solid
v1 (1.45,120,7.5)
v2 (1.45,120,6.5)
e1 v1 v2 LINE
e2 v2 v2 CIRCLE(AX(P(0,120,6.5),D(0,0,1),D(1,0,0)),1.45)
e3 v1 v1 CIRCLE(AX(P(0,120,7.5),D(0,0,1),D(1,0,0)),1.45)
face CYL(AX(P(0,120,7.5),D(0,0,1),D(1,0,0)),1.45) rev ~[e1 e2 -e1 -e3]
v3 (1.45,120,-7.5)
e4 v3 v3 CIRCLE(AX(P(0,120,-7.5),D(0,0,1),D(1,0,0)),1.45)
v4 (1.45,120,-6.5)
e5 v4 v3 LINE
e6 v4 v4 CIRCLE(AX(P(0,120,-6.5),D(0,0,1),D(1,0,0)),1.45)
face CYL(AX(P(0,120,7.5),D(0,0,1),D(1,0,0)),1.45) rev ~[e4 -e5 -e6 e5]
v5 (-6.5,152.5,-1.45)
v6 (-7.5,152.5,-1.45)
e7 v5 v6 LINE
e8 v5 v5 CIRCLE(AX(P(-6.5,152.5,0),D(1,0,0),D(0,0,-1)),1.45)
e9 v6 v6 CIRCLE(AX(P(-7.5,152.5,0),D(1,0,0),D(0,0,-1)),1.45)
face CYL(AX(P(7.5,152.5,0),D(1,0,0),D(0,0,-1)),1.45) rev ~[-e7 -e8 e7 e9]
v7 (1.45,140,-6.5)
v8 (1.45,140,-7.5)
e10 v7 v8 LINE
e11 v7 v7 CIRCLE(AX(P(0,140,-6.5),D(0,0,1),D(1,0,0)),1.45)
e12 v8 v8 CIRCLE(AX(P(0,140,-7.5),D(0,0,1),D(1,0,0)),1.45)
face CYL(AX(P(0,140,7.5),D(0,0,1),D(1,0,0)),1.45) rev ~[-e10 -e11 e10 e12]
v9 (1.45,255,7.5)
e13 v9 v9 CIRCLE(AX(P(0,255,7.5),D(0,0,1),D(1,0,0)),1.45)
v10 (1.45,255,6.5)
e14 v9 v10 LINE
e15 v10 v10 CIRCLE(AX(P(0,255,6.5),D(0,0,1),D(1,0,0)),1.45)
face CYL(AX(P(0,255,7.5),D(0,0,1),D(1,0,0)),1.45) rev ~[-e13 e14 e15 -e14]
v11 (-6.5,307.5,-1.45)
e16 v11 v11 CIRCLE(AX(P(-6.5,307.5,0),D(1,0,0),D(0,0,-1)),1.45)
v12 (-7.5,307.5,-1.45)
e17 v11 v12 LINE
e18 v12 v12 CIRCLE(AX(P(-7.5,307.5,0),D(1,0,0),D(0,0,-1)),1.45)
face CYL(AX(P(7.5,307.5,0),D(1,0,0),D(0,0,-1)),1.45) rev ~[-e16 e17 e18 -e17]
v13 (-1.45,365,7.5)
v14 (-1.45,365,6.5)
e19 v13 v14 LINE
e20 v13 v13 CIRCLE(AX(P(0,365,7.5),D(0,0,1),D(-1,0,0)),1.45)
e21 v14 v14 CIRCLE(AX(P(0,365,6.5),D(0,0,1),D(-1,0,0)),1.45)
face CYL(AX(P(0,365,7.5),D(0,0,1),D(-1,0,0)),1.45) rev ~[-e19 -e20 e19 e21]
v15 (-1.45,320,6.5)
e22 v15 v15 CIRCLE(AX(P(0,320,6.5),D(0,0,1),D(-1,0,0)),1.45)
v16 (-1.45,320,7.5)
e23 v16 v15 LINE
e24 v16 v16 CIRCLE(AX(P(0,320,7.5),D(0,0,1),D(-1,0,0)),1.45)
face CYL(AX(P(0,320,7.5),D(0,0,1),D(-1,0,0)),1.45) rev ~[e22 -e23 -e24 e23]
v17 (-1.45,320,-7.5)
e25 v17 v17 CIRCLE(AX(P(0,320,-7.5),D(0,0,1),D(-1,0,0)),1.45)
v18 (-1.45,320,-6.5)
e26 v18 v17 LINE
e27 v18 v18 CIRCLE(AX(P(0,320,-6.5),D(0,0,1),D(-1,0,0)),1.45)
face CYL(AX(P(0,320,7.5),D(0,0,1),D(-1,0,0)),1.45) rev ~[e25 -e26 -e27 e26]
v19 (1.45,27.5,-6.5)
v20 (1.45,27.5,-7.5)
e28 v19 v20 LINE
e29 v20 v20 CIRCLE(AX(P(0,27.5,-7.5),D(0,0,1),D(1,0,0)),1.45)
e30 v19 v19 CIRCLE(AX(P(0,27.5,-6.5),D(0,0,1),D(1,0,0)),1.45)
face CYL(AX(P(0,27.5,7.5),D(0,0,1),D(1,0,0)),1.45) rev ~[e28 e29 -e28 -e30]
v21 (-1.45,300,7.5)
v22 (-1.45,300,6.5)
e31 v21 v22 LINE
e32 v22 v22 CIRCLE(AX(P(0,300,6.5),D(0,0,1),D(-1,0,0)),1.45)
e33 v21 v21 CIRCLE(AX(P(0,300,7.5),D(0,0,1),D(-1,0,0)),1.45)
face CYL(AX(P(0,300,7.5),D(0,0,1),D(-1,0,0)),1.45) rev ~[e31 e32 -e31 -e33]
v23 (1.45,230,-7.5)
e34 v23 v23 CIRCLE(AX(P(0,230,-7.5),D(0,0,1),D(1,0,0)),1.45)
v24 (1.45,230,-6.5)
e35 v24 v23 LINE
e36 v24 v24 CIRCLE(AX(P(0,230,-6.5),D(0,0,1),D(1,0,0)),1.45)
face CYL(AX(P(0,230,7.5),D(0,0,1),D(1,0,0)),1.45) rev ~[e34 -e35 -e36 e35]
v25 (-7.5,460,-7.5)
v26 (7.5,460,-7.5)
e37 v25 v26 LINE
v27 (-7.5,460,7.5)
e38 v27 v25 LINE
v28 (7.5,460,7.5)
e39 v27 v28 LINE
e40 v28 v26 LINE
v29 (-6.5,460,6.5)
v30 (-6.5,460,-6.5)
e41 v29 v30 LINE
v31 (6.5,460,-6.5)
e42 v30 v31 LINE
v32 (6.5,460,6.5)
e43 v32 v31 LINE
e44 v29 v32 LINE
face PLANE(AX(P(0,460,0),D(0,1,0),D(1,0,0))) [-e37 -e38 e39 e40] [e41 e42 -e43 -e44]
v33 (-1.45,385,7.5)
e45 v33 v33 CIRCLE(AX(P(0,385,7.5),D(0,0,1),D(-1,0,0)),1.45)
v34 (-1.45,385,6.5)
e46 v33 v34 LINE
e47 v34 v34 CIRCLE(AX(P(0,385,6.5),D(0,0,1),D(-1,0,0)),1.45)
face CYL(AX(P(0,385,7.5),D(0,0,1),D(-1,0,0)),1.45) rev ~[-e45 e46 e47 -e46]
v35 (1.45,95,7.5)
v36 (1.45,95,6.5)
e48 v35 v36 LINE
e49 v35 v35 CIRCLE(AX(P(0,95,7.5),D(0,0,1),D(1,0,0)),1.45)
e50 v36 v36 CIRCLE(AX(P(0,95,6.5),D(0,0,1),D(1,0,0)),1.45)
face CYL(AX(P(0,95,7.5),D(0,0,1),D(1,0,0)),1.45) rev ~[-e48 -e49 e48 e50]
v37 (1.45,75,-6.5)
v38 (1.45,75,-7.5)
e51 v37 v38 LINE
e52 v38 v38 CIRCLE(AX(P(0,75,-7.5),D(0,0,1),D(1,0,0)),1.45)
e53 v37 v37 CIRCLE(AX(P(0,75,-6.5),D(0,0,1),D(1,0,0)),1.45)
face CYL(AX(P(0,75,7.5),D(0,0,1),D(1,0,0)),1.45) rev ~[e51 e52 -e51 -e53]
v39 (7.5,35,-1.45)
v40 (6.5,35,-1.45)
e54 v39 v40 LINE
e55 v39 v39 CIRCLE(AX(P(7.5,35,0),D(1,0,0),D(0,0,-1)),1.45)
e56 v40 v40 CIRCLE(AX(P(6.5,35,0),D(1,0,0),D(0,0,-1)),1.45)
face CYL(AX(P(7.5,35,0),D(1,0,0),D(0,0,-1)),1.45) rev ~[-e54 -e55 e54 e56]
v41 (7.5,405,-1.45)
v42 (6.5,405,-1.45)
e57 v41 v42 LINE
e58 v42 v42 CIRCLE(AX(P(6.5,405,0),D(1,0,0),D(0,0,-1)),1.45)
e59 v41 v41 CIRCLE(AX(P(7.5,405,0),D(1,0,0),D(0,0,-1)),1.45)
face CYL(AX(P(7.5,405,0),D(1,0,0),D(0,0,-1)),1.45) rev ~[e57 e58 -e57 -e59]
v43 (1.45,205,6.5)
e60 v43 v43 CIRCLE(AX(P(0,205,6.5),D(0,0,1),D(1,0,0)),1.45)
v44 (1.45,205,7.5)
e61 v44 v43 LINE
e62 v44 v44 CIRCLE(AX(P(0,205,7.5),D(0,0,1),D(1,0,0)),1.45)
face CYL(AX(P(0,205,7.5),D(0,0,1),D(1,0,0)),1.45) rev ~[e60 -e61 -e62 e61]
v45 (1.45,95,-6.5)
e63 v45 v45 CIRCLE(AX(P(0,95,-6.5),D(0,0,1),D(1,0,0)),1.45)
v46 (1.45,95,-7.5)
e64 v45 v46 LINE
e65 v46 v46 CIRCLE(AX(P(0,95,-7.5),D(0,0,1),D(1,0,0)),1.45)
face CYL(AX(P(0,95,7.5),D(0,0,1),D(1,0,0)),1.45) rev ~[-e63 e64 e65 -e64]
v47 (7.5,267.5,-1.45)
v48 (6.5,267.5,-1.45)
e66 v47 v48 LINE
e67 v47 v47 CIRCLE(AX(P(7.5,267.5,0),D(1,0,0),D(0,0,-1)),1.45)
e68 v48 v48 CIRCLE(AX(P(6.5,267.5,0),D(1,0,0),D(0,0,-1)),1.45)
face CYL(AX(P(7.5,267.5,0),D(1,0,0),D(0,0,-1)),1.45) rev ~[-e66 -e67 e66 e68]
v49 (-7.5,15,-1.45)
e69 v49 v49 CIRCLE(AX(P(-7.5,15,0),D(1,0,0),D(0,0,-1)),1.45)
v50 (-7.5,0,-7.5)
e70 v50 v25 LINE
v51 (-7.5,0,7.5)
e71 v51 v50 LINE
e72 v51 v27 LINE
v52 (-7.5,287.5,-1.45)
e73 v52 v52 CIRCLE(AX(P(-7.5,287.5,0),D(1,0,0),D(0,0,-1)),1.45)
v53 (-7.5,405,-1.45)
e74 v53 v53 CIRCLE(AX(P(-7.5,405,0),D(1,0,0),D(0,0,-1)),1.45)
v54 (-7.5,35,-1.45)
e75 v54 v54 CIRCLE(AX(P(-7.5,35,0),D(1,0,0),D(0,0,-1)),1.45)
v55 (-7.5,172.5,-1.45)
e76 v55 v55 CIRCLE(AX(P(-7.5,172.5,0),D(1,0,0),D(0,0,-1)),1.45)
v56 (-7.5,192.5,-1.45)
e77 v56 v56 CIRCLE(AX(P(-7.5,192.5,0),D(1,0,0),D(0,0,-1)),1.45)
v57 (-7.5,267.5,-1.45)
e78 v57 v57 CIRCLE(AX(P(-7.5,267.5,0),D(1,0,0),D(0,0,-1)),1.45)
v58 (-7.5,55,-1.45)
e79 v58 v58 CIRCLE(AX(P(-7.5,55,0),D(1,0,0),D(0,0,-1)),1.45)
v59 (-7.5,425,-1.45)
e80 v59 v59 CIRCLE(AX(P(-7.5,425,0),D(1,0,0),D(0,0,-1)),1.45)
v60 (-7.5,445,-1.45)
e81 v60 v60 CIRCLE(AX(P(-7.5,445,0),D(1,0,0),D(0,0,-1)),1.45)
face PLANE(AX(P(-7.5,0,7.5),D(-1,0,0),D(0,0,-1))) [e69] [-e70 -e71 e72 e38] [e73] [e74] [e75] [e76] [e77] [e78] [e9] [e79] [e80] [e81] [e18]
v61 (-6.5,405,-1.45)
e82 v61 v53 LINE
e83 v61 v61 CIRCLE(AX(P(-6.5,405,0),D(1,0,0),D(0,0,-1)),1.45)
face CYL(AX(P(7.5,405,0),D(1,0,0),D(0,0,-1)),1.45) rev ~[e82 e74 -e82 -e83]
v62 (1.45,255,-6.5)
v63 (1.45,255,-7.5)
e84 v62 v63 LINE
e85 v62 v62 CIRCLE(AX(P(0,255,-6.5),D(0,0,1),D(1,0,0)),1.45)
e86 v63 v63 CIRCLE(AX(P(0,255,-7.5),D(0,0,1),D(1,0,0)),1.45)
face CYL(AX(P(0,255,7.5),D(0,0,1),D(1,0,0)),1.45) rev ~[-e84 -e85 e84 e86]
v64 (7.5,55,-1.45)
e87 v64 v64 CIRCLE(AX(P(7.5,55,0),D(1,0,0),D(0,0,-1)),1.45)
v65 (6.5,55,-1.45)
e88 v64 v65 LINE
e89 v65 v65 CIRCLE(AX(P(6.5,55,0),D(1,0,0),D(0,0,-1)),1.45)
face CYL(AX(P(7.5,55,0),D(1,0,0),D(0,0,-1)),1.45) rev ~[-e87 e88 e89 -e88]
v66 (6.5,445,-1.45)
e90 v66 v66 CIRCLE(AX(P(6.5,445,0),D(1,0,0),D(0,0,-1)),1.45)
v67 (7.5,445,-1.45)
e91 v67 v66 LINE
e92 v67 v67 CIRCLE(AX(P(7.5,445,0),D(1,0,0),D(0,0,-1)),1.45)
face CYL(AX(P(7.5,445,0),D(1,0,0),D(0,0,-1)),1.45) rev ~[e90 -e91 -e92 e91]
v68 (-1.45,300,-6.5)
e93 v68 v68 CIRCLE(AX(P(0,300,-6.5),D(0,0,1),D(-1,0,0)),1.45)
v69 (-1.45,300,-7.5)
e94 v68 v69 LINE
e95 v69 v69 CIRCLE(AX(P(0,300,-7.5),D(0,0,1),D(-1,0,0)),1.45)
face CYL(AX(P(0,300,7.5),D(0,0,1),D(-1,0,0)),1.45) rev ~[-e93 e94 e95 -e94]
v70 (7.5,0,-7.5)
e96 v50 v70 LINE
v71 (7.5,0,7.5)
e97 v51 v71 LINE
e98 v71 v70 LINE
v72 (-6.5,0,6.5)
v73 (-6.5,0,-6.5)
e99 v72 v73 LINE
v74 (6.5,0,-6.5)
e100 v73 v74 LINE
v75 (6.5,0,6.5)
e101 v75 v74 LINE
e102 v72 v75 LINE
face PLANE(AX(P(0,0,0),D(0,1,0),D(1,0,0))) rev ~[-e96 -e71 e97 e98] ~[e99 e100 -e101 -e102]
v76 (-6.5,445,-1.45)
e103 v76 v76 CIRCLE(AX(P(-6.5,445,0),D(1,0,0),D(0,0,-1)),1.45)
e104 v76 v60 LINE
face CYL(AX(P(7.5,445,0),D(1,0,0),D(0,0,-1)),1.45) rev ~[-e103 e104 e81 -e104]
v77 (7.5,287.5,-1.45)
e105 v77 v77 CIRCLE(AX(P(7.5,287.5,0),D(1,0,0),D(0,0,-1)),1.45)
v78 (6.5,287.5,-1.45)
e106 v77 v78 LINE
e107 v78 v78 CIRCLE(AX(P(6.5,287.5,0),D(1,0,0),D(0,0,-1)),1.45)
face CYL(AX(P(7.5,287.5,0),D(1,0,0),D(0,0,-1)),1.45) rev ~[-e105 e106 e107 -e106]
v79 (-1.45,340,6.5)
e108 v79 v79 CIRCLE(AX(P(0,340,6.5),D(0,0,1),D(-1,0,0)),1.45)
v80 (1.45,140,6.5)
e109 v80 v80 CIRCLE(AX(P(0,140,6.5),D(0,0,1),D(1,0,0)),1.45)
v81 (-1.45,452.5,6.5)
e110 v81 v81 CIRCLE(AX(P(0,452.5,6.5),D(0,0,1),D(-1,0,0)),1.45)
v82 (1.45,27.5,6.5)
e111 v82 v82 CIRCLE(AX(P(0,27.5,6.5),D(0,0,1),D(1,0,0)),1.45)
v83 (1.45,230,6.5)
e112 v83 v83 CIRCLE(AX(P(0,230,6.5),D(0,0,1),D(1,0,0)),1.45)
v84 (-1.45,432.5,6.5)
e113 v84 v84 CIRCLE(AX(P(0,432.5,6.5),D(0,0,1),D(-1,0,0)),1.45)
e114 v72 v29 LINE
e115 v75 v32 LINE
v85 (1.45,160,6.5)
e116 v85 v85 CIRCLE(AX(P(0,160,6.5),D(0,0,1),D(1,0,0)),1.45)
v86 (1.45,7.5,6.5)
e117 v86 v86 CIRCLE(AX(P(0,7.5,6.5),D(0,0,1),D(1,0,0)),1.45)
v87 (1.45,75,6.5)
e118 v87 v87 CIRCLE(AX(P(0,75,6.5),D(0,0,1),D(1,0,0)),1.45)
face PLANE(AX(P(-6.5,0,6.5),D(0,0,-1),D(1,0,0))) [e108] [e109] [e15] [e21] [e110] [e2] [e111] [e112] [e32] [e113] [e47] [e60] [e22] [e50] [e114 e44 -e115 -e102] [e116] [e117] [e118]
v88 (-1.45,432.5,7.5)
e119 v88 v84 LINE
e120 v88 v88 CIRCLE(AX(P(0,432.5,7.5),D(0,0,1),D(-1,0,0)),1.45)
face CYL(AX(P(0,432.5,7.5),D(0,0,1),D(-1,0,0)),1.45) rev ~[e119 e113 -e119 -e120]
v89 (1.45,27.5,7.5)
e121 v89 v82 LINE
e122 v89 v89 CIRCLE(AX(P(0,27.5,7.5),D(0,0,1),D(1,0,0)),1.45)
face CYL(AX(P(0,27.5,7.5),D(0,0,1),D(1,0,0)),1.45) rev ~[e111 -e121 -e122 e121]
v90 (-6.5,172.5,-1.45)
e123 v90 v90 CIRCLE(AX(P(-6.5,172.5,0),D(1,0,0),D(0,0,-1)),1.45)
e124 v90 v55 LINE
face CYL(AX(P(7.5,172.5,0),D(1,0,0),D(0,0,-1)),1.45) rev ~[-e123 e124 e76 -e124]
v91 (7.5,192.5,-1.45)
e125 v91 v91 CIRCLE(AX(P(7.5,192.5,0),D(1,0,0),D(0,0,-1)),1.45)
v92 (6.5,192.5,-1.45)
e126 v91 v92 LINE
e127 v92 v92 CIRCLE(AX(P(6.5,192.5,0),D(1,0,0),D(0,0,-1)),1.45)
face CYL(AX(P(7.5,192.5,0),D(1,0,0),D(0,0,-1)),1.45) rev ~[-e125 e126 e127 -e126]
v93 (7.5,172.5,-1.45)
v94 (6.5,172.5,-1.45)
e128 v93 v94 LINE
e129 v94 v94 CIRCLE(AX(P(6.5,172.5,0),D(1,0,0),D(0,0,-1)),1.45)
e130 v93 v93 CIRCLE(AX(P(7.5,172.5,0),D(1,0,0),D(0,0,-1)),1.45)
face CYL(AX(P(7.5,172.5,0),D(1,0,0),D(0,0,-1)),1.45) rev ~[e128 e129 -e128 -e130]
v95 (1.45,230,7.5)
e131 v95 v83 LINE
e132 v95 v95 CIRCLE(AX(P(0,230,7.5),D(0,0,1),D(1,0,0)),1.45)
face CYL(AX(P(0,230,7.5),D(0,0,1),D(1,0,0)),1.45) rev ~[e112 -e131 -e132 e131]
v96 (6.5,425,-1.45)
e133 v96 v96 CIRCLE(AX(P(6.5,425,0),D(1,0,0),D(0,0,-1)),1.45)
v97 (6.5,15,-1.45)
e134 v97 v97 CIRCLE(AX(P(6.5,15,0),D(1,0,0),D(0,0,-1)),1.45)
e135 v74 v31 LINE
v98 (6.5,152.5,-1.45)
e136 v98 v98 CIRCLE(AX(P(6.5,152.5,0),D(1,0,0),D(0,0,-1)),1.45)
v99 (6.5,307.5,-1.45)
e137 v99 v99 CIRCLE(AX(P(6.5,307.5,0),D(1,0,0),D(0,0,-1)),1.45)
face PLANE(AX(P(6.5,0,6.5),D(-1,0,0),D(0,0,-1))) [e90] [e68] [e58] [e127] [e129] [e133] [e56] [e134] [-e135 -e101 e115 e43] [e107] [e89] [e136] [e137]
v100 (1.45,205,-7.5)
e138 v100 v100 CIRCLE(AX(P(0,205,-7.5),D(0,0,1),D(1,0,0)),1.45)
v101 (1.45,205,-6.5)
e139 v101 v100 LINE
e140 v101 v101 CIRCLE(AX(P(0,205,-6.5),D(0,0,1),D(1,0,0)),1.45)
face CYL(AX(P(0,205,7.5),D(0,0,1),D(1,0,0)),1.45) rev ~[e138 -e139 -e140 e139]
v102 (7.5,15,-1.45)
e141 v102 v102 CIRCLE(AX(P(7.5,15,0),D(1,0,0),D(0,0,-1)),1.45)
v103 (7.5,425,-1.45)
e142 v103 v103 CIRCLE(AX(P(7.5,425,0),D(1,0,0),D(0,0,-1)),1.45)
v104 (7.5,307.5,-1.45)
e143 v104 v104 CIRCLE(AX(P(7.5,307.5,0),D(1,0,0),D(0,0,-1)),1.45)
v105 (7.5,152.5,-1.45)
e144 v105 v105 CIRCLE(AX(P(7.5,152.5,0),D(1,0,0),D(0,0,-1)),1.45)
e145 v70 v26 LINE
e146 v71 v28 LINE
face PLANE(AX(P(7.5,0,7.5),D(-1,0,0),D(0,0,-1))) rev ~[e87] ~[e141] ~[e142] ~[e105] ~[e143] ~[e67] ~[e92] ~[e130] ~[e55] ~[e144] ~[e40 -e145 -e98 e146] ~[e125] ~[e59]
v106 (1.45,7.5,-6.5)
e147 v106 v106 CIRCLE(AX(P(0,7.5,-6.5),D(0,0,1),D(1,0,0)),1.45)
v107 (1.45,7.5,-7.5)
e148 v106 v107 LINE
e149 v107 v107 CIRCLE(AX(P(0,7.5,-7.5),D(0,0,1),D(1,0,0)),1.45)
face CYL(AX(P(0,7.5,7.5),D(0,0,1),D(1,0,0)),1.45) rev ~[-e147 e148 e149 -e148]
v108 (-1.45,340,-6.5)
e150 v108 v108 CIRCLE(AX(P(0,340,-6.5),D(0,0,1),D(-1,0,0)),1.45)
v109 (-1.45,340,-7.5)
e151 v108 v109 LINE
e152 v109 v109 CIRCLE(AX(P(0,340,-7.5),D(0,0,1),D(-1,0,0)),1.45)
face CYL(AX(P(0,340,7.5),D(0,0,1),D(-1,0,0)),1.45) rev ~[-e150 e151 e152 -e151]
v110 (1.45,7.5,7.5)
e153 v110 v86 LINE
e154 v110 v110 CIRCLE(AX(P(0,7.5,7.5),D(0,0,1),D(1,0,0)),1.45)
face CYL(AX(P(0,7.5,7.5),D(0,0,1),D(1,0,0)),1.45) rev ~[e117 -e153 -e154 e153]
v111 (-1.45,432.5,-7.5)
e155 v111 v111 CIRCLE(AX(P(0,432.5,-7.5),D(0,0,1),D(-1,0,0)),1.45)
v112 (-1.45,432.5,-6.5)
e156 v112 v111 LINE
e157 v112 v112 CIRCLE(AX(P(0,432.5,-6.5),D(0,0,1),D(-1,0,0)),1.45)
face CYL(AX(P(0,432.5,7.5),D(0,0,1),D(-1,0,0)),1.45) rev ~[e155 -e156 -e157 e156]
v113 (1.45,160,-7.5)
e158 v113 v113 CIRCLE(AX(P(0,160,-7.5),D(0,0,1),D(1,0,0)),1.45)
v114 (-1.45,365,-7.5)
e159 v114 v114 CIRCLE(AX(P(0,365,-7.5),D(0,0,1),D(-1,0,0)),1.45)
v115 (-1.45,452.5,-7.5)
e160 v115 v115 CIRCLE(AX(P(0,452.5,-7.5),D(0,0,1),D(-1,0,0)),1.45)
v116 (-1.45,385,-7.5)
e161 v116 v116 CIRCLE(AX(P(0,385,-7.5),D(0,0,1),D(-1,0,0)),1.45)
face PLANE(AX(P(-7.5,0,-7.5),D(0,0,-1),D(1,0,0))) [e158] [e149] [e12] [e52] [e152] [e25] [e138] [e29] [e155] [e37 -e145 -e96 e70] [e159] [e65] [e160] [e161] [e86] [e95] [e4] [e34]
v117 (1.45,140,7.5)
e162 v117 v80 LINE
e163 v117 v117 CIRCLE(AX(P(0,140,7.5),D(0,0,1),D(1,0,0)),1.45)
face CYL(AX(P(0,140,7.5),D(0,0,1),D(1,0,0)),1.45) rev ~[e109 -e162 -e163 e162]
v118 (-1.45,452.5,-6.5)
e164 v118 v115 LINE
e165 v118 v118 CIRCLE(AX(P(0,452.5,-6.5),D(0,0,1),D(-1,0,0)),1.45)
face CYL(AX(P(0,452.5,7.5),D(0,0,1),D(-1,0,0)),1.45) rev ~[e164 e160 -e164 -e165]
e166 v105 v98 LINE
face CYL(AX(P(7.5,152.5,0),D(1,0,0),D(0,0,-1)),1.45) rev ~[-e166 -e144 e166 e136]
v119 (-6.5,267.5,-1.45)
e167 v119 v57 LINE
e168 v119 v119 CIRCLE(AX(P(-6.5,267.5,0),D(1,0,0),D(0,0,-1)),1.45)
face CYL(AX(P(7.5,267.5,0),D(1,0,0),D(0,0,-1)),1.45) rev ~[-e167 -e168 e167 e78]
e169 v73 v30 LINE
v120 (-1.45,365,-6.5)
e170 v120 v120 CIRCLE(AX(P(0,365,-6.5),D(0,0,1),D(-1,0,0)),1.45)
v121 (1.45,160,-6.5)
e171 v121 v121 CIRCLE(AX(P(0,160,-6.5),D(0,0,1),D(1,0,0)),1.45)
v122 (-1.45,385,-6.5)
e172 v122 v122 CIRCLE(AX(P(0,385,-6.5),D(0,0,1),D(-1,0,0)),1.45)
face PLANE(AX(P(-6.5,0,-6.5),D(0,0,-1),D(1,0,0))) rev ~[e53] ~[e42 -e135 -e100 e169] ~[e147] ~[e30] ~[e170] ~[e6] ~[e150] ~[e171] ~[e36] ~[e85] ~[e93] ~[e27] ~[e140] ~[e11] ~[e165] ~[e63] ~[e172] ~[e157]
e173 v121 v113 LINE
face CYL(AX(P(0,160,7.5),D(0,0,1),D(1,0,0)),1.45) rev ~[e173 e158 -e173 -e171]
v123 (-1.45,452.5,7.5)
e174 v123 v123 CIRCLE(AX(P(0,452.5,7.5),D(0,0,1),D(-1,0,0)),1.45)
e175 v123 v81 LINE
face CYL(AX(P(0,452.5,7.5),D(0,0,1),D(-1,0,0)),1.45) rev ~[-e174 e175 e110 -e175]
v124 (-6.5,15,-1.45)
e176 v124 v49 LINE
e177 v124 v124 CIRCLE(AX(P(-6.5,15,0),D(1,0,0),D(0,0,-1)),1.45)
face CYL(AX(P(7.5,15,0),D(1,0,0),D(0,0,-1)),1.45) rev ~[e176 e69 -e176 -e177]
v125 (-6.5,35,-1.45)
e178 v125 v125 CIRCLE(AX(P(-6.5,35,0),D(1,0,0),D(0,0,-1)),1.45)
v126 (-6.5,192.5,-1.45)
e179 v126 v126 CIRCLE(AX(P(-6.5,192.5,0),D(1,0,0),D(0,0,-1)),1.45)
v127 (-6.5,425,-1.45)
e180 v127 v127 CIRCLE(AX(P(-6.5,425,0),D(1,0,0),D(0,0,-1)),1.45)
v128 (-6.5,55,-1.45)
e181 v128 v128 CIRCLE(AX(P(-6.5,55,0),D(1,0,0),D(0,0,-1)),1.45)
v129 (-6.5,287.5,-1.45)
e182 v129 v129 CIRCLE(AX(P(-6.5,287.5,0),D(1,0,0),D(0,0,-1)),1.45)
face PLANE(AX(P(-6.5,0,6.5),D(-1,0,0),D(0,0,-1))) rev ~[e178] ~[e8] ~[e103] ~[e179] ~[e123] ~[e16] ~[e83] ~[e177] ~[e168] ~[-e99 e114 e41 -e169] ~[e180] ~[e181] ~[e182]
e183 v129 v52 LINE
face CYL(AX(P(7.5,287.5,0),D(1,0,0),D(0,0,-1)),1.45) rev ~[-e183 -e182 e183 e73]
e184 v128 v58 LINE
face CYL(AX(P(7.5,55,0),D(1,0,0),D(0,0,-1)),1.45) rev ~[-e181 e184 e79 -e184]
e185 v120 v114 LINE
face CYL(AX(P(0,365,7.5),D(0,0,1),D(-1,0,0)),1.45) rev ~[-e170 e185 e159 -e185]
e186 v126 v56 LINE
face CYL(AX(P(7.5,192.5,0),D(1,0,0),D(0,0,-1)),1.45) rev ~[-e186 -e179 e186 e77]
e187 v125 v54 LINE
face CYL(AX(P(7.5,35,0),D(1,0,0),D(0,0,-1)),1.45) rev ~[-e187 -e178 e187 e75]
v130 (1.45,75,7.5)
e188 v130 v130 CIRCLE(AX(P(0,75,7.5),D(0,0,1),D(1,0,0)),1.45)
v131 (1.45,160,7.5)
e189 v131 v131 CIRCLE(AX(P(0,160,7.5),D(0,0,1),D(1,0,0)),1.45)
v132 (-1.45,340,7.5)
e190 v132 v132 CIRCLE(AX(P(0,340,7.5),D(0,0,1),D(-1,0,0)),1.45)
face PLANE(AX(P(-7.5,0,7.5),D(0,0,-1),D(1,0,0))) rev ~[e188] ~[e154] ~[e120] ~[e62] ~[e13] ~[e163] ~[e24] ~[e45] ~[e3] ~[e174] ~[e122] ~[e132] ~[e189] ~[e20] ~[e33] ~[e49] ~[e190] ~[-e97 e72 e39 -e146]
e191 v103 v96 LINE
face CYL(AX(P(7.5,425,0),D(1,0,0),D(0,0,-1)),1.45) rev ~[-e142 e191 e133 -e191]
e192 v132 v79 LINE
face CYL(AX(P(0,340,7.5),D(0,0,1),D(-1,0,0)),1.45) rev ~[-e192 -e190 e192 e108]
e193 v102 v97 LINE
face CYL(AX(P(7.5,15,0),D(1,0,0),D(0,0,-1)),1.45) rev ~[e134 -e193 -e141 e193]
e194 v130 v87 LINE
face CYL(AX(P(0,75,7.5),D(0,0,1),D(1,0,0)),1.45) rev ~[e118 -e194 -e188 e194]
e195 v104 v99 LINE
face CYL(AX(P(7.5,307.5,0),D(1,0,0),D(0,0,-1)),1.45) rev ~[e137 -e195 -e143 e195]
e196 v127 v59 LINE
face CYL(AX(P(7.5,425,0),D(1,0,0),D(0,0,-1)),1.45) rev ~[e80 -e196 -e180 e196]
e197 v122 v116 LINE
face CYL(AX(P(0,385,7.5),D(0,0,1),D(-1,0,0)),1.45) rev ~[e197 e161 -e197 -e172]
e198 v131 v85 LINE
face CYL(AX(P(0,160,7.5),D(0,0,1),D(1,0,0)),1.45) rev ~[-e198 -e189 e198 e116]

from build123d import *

# Parameters (mm, degrees)
SKETCH_1_W          = 15
SKETCH_1_H          = 15
SKETCH_1_W_2        = 13
SKETCH_1_H_2        = 13
EXTRUDE_1_DEPTH     = 460
SKETCH_2_R          = 1.45
CUT_EXTRUDE_1_DEPTH = 461.305605006
SKETCH_3_R          = 1.45
CUT_EXTRUDE_2_DEPTH = 461.305605006


with BuildPart() as part:
    # 草图1 → 拉伸-薄壁1 (new body)
    with BuildSketch(Plane(origin=(0, 0, 0), x_dir=(1, 0, 0), z_dir=(0, 1, 0))):
        Rectangle(SKETCH_1_W, SKETCH_1_H)
        Rectangle(SKETCH_1_W_2, SKETCH_1_H_2, mode=Mode.SUBTRACT)
    extrude(amount=EXTRUDE_1_DEPTH)

    # 草图2 → 切除-拉伸1 (cut, through all)
    with BuildSketch(Plane.XY.offset(7.5)):
        with Locations((0, 7.5)):
            Circle(SKETCH_2_R)
        with Locations((0, 27.5)):
            Circle(SKETCH_2_R)
        with Locations(Location((0, 432.5, 0), (0, 0, 180))):
            Circle(SKETCH_2_R)
        with Locations(Location((0, 452.5, 0), (0, 0, 180))):
            Circle(SKETCH_2_R)
        with Locations((0, 140)):
            Circle(SKETCH_2_R)
        with Locations((0, 160)):
            Circle(SKETCH_2_R)
        with Locations((0, 120)):
            Circle(SKETCH_2_R)
        with Locations(Location((0, 340, 0), (0, 0, 180))):
            Circle(SKETCH_2_R)
        with Locations(Location((0, 300, 0), (0, 0, 180))):
            Circle(SKETCH_2_R)
        with Locations(Location((0, 320, 0), (0, 0, 180))):
            Circle(SKETCH_2_R)
        with Locations((0, 230)):
            Circle(SKETCH_2_R)
        with Locations((0, 255)):
            Circle(SKETCH_2_R)
        with Locations((0, 205)):
            Circle(SKETCH_2_R)
        with Locations((0, 95)):
            Circle(SKETCH_2_R)
        with Locations(Location((0, 365, 0), (0, 0, 180))):
            Circle(SKETCH_2_R)
        with Locations((0, 75)):
            Circle(SKETCH_2_R)
        with Locations(Location((0, 385, 0), (0, 0, 180))):
            Circle(SKETCH_2_R)
    extrude(amount=-CUT_EXTRUDE_1_DEPTH, mode=Mode.SUBTRACT)

    # 草图3 → 切除-拉伸2 (cut, through all)
    with BuildSketch(Plane(origin=(7.5, 0, 0), x_dir=(0, 0, -1), z_dir=(1, 0, 0))):
        with Locations((0, 15)):
            Circle(SKETCH_3_R)
        with Locations((0, 35)):
            Circle(SKETCH_3_R)
        with Locations((0, 425)):
            Circle(SKETCH_3_R)
        with Locations((0, 445)):
            Circle(SKETCH_3_R)
        with Locations((0, 172.5)):
            Circle(SKETCH_3_R)
        with Locations((0, 192.5)):
            Circle(SKETCH_3_R)
        with Locations((0, 152.5)):
            Circle(SKETCH_3_R)
        with Locations((0, 307.5)):
            Circle(SKETCH_3_R)
        with Locations((0, 267.5)):
            Circle(SKETCH_3_R)
        with Locations((0, 287.5)):
            Circle(SKETCH_3_R)
        with Locations((0, 55)):
            Circle(SKETCH_3_R)
        with Locations((0, 405)):
            Circle(SKETCH_3_R)
    extrude(amount=-CUT_EXTRUDE_2_DEPTH, mode=Mode.SUBTRACT)


solid = part.part
